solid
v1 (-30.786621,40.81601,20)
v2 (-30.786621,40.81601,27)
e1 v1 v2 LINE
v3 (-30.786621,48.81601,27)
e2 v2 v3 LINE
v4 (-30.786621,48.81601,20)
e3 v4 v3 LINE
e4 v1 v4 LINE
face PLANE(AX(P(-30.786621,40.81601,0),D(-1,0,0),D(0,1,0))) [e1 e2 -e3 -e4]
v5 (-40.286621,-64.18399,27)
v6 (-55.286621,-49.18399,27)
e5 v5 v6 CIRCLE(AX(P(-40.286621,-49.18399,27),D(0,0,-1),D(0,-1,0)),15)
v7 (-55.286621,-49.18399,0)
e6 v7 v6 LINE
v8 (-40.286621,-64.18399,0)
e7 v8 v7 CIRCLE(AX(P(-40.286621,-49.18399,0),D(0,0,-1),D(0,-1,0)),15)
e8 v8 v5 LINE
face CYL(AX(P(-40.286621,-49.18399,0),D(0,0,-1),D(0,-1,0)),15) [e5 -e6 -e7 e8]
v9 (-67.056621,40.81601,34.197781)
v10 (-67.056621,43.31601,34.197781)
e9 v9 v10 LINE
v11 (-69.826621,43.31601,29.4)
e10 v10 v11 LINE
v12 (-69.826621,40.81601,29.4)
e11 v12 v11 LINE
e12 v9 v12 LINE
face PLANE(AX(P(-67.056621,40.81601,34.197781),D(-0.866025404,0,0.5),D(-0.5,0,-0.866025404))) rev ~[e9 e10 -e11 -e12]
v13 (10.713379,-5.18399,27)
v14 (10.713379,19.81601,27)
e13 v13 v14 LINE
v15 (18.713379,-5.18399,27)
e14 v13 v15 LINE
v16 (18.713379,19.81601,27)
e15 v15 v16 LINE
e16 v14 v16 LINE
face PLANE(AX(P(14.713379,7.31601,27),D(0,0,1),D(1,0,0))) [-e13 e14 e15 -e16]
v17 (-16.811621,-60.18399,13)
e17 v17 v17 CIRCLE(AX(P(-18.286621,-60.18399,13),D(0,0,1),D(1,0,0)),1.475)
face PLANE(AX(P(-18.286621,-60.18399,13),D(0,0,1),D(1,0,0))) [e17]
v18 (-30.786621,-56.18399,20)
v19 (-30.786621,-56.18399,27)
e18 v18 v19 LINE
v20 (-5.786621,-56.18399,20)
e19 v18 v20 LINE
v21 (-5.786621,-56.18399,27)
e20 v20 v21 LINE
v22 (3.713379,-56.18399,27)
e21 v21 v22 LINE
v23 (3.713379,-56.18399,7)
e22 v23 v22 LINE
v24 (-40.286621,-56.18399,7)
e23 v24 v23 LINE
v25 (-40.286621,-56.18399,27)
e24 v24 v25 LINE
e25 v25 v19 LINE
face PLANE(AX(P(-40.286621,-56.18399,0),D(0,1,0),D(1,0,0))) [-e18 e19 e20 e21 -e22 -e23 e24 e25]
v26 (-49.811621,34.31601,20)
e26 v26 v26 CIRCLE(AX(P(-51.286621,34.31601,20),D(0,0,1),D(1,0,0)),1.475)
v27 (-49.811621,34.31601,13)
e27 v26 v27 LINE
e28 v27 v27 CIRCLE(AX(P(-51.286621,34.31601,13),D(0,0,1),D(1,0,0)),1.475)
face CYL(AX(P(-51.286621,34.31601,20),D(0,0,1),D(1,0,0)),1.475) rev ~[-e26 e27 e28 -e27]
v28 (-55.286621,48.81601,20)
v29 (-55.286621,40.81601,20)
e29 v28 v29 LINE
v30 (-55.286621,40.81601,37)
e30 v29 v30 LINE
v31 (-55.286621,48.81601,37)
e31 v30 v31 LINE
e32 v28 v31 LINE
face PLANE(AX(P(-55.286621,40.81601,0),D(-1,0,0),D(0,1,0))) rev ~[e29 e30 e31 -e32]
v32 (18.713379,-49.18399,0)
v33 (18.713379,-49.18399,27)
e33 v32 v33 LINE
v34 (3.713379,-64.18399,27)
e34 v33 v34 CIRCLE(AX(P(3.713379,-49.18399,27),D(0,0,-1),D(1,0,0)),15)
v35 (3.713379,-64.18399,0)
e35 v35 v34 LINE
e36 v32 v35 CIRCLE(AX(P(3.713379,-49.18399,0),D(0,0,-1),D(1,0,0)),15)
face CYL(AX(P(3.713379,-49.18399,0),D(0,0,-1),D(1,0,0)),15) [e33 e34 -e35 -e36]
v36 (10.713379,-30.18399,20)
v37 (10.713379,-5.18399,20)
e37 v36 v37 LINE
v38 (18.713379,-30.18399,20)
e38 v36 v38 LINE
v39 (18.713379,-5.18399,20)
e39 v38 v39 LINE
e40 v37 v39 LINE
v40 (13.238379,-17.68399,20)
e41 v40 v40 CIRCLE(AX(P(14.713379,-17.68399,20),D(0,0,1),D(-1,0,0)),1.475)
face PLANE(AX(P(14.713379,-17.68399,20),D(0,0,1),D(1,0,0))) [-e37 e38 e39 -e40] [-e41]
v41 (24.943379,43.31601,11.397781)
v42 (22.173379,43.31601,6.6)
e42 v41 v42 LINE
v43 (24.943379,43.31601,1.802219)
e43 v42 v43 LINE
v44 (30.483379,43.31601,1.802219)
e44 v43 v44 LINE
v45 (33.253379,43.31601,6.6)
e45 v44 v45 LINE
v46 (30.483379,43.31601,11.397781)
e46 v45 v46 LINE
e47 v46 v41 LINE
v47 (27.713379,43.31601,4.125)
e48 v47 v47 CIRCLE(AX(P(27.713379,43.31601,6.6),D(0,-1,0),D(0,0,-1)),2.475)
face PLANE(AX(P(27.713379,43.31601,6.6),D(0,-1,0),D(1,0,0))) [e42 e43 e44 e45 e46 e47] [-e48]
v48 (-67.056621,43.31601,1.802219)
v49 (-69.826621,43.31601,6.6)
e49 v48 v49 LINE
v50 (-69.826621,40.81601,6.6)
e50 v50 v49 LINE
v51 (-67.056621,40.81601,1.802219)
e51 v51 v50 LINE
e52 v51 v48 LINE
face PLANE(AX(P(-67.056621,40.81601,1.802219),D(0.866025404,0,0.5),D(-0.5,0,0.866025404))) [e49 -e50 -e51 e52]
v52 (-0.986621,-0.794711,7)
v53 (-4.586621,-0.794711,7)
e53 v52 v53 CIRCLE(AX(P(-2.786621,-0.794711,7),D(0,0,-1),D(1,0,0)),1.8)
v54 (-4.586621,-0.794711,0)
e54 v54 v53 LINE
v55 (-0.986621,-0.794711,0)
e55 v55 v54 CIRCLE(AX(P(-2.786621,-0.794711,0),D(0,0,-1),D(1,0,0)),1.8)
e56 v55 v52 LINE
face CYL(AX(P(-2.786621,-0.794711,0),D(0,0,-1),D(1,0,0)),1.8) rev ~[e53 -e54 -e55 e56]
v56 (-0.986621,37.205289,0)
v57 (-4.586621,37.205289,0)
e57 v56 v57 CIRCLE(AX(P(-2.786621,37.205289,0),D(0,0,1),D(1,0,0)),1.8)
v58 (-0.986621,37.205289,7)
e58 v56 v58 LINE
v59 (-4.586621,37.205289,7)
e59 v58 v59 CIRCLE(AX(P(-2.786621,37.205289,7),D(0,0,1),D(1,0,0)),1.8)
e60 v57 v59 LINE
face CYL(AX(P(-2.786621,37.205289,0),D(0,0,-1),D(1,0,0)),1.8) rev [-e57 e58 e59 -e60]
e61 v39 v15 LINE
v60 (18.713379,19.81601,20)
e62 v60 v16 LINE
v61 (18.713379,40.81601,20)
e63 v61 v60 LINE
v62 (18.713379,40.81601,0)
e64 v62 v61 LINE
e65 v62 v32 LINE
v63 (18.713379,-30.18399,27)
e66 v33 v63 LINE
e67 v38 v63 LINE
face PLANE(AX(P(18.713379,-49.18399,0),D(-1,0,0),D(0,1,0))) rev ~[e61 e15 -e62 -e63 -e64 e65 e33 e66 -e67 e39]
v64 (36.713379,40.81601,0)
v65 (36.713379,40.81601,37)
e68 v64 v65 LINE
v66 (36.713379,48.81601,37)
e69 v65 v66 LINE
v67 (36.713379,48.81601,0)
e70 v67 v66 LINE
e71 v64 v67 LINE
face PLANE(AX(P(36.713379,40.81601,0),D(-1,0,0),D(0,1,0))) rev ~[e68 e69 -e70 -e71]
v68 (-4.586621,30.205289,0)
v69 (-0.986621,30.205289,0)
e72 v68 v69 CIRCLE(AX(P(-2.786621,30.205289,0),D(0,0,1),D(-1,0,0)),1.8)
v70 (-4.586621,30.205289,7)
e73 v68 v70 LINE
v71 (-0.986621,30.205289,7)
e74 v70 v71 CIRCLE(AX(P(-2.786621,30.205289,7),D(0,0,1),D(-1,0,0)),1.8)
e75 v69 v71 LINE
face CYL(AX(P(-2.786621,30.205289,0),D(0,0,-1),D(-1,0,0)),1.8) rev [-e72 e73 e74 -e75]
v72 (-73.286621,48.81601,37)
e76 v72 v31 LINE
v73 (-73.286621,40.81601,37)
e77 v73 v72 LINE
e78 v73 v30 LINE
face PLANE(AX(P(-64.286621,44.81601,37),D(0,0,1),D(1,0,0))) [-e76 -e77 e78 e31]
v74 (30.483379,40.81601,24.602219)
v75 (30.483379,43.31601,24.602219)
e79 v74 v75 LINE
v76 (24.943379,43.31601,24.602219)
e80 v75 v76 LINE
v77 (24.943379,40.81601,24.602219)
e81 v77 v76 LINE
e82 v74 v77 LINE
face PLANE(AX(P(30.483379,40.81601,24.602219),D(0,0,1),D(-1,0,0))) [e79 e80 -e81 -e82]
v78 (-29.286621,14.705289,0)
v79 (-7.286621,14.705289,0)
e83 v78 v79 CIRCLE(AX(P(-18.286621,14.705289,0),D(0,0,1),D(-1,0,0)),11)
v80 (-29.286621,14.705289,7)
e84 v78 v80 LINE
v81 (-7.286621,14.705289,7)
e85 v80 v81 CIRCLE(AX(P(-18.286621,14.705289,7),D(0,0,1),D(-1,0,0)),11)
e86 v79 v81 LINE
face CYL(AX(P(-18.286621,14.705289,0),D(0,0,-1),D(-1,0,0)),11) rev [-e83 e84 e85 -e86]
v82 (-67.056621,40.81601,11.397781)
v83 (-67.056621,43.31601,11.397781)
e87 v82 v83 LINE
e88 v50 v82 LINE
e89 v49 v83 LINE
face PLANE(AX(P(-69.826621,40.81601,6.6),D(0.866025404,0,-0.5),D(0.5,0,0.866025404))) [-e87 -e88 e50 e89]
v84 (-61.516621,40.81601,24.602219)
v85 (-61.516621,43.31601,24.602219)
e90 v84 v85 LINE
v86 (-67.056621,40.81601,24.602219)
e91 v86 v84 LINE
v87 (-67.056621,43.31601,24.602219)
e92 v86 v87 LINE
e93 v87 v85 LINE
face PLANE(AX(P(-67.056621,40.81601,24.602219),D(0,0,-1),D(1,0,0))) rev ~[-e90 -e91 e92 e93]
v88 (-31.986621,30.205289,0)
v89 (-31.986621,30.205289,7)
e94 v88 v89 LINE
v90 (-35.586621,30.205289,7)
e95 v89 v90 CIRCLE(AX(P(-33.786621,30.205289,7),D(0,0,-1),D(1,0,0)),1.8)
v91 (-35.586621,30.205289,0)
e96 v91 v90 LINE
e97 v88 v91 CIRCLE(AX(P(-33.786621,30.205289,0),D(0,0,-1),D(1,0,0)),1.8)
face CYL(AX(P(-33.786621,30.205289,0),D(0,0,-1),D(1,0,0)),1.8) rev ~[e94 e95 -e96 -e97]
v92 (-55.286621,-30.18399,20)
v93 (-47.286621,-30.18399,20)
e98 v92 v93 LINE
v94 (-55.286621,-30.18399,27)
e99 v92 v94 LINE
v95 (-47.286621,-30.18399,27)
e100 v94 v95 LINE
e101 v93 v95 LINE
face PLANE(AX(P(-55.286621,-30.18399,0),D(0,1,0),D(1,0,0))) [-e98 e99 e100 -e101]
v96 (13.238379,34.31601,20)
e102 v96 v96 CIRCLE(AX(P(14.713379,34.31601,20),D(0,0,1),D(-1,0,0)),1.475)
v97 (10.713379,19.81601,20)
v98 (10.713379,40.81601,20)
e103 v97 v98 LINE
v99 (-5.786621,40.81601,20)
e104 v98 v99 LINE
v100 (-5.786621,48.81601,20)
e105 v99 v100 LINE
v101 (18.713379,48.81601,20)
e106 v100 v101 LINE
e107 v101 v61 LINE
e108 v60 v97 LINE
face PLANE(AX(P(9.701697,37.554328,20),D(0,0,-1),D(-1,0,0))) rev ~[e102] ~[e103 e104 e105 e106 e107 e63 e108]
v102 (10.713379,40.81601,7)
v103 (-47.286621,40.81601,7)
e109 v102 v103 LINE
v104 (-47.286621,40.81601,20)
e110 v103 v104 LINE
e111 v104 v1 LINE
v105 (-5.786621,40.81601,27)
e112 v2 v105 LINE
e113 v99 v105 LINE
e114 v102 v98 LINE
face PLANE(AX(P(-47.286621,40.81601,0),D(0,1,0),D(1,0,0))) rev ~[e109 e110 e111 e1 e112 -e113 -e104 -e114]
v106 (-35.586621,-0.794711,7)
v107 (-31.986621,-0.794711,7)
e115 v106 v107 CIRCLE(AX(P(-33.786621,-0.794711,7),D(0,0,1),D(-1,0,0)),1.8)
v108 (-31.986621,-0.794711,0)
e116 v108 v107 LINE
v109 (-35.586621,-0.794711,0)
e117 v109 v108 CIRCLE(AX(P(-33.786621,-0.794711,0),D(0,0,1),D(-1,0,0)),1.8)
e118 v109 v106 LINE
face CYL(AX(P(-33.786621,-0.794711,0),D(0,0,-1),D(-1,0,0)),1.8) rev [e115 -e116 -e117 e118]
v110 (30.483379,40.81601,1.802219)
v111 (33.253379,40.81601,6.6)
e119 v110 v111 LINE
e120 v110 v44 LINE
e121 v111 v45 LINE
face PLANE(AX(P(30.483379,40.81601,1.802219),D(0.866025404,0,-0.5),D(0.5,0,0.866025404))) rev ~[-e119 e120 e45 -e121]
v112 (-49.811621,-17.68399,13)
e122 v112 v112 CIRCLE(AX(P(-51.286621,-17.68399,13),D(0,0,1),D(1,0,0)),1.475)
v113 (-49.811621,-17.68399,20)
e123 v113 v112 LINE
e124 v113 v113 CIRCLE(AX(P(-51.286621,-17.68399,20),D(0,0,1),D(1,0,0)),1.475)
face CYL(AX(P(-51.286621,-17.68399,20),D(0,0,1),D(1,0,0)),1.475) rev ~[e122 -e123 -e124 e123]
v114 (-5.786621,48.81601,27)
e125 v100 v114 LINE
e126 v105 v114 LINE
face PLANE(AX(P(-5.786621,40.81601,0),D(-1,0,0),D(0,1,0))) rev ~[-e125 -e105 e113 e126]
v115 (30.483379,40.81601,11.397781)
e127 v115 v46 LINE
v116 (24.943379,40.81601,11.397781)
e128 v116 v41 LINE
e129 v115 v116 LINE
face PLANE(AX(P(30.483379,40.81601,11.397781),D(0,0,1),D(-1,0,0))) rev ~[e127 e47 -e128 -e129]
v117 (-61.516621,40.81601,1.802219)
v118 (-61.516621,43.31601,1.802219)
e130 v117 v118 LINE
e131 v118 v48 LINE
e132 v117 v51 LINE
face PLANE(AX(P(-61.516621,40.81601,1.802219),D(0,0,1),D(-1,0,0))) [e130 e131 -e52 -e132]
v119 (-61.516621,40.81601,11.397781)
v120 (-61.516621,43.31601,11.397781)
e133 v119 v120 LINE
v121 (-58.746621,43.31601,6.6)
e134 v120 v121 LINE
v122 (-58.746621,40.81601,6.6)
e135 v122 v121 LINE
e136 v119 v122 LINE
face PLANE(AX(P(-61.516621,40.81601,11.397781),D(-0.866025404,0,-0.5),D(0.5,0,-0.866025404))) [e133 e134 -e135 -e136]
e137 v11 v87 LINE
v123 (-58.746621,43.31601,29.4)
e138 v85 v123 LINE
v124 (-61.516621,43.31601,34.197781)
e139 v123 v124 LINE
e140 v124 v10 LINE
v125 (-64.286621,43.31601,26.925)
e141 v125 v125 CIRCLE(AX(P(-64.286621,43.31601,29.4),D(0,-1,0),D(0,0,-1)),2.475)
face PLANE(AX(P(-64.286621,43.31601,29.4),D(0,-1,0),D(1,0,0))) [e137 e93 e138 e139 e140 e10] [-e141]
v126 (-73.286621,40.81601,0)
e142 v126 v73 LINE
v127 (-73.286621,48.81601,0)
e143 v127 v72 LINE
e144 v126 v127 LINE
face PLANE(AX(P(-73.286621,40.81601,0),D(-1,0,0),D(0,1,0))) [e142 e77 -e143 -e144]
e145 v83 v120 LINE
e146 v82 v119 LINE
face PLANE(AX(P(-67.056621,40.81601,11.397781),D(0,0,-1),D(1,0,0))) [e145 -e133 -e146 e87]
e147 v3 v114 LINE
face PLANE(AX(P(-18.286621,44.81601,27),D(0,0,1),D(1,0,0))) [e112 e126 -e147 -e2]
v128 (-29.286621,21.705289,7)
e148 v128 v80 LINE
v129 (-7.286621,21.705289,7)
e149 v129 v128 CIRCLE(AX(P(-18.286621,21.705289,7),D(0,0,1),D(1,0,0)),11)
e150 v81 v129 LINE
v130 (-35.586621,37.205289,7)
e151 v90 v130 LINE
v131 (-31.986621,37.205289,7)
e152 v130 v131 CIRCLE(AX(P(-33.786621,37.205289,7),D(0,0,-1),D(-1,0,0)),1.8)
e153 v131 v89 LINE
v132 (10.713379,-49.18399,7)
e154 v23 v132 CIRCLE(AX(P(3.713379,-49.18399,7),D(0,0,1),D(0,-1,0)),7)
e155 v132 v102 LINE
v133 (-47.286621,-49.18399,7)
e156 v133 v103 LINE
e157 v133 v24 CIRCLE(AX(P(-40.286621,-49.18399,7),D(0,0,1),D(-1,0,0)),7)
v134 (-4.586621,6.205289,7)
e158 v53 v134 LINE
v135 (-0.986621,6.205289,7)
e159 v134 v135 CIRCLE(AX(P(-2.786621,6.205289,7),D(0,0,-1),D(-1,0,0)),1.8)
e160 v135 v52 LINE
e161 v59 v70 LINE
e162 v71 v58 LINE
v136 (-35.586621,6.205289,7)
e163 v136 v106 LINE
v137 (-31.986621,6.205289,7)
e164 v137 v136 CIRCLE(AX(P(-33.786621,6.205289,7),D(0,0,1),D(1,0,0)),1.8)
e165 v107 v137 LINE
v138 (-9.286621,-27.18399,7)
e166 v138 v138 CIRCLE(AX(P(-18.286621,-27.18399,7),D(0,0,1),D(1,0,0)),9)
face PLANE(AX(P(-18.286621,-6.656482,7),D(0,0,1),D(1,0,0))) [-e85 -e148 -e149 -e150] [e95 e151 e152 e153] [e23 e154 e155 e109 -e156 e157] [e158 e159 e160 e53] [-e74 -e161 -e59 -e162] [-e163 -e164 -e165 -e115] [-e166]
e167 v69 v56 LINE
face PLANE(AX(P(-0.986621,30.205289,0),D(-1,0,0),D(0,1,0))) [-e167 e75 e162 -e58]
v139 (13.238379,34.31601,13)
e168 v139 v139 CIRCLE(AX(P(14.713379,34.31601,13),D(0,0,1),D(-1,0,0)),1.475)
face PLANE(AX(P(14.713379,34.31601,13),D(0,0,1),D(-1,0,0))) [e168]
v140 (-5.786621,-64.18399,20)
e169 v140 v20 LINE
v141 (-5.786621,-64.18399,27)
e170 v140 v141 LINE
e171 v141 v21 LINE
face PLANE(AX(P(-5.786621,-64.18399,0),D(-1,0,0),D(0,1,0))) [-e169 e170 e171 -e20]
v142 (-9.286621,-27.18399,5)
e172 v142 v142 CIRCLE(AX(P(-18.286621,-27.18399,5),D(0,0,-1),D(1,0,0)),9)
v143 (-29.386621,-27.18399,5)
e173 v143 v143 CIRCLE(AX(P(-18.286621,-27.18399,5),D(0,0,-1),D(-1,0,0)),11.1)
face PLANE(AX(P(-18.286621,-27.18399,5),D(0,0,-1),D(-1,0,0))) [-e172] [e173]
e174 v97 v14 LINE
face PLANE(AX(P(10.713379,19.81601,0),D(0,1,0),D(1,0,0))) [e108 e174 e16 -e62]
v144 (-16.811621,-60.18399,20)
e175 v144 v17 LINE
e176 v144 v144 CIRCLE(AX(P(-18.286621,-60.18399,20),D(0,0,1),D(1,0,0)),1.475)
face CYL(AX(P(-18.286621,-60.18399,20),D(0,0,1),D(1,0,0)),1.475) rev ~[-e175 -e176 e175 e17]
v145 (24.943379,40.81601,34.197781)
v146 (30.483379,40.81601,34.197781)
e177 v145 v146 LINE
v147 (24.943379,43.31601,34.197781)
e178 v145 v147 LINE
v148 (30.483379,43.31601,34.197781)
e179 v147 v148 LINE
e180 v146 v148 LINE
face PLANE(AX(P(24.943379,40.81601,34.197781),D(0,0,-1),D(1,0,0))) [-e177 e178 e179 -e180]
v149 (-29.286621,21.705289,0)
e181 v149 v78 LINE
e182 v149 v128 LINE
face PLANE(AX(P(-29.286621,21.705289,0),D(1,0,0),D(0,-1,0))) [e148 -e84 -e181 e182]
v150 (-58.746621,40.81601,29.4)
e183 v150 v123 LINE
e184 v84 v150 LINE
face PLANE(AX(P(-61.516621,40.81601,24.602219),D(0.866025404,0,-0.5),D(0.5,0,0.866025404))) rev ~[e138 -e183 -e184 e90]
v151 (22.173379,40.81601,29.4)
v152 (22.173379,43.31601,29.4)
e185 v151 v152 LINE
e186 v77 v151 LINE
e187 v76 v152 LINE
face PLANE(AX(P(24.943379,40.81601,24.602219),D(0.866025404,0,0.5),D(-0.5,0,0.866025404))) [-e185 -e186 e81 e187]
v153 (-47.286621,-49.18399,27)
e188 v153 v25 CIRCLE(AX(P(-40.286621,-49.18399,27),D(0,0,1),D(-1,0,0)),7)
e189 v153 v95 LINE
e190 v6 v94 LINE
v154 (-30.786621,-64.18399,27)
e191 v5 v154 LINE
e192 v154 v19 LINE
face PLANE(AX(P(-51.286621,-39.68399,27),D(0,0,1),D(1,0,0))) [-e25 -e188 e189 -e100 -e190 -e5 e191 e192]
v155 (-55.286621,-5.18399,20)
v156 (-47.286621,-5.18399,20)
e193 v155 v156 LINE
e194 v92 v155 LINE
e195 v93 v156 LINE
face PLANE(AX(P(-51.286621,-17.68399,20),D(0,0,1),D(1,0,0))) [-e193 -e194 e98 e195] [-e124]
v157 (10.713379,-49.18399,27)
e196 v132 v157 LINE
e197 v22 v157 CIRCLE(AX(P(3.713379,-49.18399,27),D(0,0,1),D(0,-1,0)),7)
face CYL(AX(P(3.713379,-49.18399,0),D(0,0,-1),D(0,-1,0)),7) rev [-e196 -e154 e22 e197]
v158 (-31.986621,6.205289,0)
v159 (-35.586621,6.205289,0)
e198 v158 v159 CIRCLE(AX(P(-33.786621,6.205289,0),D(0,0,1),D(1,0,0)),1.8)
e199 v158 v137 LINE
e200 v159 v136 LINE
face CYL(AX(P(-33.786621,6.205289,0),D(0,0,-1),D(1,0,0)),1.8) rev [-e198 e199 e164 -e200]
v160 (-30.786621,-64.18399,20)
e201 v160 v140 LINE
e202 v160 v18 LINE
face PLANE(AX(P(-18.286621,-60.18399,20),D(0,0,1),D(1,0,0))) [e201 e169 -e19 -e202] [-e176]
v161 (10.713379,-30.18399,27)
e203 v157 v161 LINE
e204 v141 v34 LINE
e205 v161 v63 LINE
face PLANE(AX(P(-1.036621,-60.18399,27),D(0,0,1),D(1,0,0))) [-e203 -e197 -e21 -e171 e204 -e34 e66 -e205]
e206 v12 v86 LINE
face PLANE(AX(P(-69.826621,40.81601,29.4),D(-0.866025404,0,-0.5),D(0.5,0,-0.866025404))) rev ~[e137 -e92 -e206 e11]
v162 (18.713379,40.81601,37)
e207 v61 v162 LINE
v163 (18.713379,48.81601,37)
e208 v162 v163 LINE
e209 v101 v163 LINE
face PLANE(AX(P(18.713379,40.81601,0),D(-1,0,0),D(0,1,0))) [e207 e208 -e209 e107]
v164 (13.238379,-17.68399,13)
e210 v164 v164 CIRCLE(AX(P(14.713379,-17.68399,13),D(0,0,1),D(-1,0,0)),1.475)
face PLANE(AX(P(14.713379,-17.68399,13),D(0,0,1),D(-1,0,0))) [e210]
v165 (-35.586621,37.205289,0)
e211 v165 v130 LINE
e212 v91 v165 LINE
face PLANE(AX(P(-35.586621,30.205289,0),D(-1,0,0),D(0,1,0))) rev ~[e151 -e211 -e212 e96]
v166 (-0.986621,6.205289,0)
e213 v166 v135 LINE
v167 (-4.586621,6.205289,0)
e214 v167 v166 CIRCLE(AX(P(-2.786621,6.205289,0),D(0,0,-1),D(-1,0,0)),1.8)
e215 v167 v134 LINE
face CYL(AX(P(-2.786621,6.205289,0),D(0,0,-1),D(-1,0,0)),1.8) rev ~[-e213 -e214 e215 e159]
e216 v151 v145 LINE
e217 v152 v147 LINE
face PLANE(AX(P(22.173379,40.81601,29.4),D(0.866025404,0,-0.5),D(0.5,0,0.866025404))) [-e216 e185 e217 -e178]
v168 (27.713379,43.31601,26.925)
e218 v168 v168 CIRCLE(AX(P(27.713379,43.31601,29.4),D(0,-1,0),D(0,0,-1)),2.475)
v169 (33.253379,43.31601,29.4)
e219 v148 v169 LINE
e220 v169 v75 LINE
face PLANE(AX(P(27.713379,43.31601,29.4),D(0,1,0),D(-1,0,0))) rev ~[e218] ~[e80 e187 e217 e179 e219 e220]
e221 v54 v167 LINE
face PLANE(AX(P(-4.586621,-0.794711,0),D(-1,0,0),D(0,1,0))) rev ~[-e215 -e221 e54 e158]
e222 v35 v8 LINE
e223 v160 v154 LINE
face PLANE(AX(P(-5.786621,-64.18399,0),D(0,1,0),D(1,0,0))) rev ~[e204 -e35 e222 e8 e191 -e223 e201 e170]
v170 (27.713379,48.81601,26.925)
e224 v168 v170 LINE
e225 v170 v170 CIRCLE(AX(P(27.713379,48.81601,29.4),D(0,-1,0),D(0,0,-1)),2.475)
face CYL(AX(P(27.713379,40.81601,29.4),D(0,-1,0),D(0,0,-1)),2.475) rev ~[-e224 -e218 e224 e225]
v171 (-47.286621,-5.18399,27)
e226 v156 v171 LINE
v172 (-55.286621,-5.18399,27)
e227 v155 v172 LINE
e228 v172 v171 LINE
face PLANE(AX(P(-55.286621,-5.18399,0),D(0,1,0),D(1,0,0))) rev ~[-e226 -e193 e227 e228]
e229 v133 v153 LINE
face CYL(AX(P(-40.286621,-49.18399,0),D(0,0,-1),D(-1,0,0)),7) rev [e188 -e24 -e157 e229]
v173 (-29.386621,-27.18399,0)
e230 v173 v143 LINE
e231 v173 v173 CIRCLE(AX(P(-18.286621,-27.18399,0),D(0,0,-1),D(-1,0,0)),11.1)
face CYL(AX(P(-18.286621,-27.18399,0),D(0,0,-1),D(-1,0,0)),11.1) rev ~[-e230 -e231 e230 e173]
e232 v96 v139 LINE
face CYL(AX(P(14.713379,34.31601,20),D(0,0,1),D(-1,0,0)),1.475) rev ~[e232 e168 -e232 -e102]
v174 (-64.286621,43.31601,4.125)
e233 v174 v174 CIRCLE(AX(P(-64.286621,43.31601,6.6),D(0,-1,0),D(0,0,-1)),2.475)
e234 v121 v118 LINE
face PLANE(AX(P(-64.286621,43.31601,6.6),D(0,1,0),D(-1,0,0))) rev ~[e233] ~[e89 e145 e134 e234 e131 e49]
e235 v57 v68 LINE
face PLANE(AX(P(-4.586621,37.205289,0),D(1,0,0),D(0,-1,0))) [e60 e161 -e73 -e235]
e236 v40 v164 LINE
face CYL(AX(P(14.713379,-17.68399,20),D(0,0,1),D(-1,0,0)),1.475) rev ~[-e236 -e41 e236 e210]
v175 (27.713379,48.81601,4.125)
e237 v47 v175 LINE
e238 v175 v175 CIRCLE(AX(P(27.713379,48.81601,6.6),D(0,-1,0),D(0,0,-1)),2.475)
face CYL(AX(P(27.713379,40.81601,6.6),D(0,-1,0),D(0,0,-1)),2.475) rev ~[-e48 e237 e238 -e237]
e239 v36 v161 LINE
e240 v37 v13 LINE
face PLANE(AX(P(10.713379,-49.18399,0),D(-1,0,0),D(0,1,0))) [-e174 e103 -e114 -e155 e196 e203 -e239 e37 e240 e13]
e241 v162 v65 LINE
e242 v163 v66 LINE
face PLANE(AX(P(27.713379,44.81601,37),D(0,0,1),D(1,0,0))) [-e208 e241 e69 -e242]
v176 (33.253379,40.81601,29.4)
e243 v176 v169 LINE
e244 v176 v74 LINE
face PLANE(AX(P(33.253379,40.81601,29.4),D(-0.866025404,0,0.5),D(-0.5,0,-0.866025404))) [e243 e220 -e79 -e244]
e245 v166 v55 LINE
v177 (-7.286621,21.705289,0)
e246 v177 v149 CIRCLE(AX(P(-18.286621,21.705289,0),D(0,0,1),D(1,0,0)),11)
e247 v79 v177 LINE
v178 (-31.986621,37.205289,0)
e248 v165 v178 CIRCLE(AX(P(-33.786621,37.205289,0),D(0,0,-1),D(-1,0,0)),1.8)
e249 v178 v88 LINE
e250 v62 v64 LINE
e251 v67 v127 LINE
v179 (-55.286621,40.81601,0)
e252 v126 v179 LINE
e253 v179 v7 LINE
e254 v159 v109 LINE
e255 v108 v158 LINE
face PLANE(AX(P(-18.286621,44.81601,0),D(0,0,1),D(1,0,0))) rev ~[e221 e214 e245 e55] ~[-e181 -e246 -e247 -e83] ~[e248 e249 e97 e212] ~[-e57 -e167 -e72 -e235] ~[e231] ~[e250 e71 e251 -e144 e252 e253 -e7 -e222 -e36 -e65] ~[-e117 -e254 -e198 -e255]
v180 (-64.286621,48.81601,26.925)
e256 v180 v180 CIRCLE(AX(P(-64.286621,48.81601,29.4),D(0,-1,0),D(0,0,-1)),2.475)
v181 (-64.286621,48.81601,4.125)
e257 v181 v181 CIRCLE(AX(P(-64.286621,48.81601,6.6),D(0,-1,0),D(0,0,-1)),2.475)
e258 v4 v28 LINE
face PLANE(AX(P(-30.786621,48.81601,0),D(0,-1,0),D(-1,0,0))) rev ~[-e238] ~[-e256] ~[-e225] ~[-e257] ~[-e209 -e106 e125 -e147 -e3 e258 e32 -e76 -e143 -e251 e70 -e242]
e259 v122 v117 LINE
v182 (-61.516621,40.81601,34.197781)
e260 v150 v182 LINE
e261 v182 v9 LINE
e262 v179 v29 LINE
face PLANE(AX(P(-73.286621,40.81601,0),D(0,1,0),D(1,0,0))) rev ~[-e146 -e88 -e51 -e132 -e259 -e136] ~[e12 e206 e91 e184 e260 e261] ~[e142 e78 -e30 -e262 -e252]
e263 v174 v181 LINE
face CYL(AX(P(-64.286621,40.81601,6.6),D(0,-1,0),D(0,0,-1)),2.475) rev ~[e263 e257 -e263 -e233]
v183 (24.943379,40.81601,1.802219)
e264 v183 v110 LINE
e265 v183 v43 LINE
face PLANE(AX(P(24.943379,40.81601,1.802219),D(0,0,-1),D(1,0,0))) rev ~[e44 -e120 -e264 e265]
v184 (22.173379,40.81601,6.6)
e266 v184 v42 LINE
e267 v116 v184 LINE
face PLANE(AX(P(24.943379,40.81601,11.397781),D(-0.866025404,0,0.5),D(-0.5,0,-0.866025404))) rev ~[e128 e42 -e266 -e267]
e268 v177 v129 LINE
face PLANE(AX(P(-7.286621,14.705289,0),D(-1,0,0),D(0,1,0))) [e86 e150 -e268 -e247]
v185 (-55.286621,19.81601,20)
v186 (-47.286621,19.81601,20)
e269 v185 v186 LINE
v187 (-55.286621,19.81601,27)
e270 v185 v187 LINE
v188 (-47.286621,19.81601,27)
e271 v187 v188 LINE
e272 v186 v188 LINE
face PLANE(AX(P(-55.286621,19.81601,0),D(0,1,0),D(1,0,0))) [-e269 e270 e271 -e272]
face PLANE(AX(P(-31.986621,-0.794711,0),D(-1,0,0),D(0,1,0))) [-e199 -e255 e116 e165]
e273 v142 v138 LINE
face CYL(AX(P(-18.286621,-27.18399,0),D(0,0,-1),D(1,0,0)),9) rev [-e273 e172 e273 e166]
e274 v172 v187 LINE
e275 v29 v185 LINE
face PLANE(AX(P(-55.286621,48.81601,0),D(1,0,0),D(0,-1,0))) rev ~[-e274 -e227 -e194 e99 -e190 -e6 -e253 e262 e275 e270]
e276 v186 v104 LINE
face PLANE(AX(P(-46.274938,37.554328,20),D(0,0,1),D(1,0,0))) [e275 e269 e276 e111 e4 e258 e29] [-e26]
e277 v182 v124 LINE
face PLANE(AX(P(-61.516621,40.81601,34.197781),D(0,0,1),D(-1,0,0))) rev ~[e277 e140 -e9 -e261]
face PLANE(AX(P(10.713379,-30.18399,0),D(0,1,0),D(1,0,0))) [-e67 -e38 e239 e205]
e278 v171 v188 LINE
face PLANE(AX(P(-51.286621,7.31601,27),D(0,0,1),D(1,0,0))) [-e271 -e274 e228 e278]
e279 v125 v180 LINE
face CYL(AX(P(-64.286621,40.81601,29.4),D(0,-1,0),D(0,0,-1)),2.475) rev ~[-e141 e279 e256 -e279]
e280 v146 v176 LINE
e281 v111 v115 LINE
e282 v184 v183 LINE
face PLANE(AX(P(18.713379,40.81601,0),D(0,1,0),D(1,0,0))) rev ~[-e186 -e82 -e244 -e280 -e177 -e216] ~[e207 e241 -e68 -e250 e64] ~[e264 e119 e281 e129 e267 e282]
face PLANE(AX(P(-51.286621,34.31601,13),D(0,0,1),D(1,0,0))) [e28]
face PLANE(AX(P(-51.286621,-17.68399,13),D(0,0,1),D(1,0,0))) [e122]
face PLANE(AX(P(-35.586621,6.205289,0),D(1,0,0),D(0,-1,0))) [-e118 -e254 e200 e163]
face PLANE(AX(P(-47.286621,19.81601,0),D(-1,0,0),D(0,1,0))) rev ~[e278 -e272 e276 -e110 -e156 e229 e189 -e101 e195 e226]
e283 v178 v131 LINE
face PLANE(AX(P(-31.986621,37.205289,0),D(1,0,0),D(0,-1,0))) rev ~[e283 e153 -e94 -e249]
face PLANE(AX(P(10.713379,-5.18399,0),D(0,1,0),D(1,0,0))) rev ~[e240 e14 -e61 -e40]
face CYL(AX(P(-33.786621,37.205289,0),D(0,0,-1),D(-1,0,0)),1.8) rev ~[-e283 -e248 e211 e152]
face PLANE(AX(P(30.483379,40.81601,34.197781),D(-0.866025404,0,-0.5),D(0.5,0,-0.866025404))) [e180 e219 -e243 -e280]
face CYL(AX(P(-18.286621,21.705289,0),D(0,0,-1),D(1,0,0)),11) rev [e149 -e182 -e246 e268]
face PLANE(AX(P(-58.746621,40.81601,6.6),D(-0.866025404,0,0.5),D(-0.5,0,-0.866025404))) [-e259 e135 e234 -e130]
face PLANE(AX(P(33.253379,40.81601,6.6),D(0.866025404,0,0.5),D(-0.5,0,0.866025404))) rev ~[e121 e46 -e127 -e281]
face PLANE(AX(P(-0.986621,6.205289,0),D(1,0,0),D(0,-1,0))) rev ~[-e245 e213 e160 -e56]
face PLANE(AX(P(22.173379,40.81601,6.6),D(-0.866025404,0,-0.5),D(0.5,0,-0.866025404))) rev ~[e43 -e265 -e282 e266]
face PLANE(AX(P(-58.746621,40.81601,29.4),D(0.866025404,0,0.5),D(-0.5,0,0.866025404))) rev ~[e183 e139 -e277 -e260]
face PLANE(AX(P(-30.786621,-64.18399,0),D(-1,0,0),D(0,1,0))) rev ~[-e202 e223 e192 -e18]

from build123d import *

# Parameters (mm, degrees)
CROQUIS2_R                = 9
SALIENTE_EXTRUIR1_DEPTH   = 7
CROQUIS2_5_W              = 18
CROQUIS2_5_H              = 8
SALIENTE_EXTRUIR2_DEPTH   = 37
SALIENTE_EXTRUIR2_2_DEPTH = 37
CROQUIS2_7_W              = 25
CROQUIS2_7_H              = 8
CROQUIS2_7_W_2            = 8
CROQUIS2_7_H_2            = 25
SALIENTE_EXTRUIR3_DEPTH   = 27
CROQUIS2_8_W              = 8
CROQUIS2_8_H              = 25
CROQUIS2_8_W_2            = 25
CROQUIS2_8_H_2            = 8
SALIENTE_EXTRUIR4_DEPTH   = 20
CROQUIS3_R                = 11.1
CORTAR_EXTRUIR1_DEPTH     = 5
CROQUIS9_R                = 2.475
CORTAR_EXTRUIR2_DEPTH     = 2.5
CROQUIS10_R               = 2.475
CORTAR_EXTRUIR3_DEPTH     = 8
CROQUIS11_R               = 1.475
CORTAR_EXTRUIR4_DEPTH     = 7


with BuildPart() as part:
    # Croquis2 → Saliente-Extruir1 (new body)
    with BuildSketch(Plane.XY):
        with BuildLine():
            Line((-5.786620614, 40.816010109), (-30.786620614, 40.816010109))
            Line((-30.786620614, 40.816010109), (-47.286620614, 40.816010109))
            Line((-47.286620614, 40.816010109), (-47.286620614, 19.816010109))
            Line((-47.286620614, 19.816010109), (-47.286620614, -5.183989891))
            Line((-47.286620614, -5.183989891), (-47.286620614, -30.183989891))
            Line((-47.286620614, -30.183989891), (-47.286620614, -49.183989891))
            ThreePointArc((-47.286620614, -49.183989891), (-45.236368082, -54.133737359), (-40.286620614, -56.183989891))
            Line((-40.286620614, -56.183989891), (-30.786620614, -56.183989891))
            Line((-30.786620614, -56.183989891), (-5.786620614, -56.183989891))
            Line((-5.786620614, -56.183989891), (3.713379386, -56.183989891))
            ThreePointArc((3.713379386, -56.183989891), (8.663126854, -54.133737359), (10.713379386, -49.183989891))
            Line((10.713379386, -49.183989891), (10.713379386, -30.183989891))
            Line((10.713379386, -30.183989891), (10.713379386, -5.183989891))
            Line((10.713379386, -5.183989891), (10.713379386, 19.816010109))
            Line((10.713379386, 19.816010109), (10.713379386, 40.816010109))
            Line((10.713379386, 40.816010109), (-5.786620614, 40.816010109))
        make_face()
        with Locations((-18.286620614, -27.183989891)):
            Circle(CROQUIS2_R, mode=Mode.SUBTRACT)
        with BuildLine():
            ThreePointArc((-35.586620614, 6.205288522), (-33.786620614, 8.005288522), (-31.986620614, 6.205288522))
            Line((-31.986620614, 6.205288522), (-31.986620614, -0.794711478))
            ThreePointArc((-31.986620614, -0.794711478), (-33.786620614, -2.594711478), (-35.586620614, -0.794711478))
            Line((-35.586620614, -0.794711478), (-35.586620614, 6.205288522))
        make_face(mode=Mode.SUBTRACT)
        with BuildLine():
            ThreePointArc((-29.286620614, 21.705288522), (-18.286620614, 32.705288522), (-7.286620614, 21.705288522))
            Line((-7.286620614, 21.705288522), (-7.286620614, 14.705288522))
            ThreePointArc((-7.286620614, 14.705288522), (-18.286620614, 3.705288522), (-29.286620614, 14.705288522))
            Line((-29.286620614, 14.705288522), (-29.286620614, 21.705288522))
        make_face(mode=Mode.SUBTRACT)
        with BuildLine():
            ThreePointArc((-31.986620614, 30.205288522), (-33.786620614, 28.405288522), (-35.586620614, 30.205288522))
            Line((-35.586620614, 30.205288522), (-35.586620614, 37.205288522))
            ThreePointArc((-35.586620614, 37.205288522), (-33.786620614, 39.005288522), (-31.986620614, 37.205288522))
            Line((-31.986620614, 37.205288522), (-31.986620614, 30.205288522))
        make_face(mode=Mode.SUBTRACT)
        with BuildLine():
            ThreePointArc((-4.586620614, 6.205288522), (-2.786620614, 8.005288522), (-0.986620614, 6.205288522))
            Line((-0.986620614, 6.205288522), (-0.986620614, -0.794711478))
            ThreePointArc((-0.986620614, -0.794711478), (-2.786620614, -2.594711478), (-4.586620614, -0.794711478))
            Line((-4.586620614, -0.794711478), (-4.586620614, 6.205288522))
        make_face(mode=Mode.SUBTRACT)
        with BuildLine():
            ThreePointArc((-0.986620614, 30.205288522), (-2.786620614, 28.405288522), (-4.586620614, 30.205288522))
            Line((-4.586620614, 30.205288522), (-4.586620614, 37.205288522))
            ThreePointArc((-4.586620614, 37.205288522), (-2.786620614, 39.005288522), (-0.986620614, 37.205288522))
            Line((-0.986620614, 37.205288522), (-0.986620614, 30.205288522))
        make_face(mode=Mode.SUBTRACT)
    extrude(amount=SALIENTE_EXTRUIR1_DEPTH)

    # Croquis2<7> → Saliente-Extruir3 (add)
    with BuildSketch(Plane.XY):
        with Locations((-18.286620614, 44.816010109)):
            Rectangle(CROQUIS2_7_W, CROQUIS2_7_H)
        with Locations((-51.286620614, 7.316010109)):
            Rectangle(CROQUIS2_7_W_2, CROQUIS2_7_H_2)
        with Locations((14.713379386, 7.316010109)):
            Rectangle(CROQUIS2_7_W_2, CROQUIS2_7_H_2)
        with BuildLine():
            Line((-47.286620614, -49.183989891), (-47.286620614, -30.183989891))
            Line((-47.286620614, -30.183989891), (-55.286620614, -30.183989891))
            Line((-55.286620614, -30.183989891), (-55.286620614, -49.183989891))
            ThreePointArc((-55.286620614, -49.183989891), (-50.893222332, -59.790591609), (-40.286620614, -64.183989891))
            Line((-40.286620614, -64.183989891), (-30.786620614, -64.183989891))
            Line((-30.786620614, -64.183989891), (-30.786620614, -56.183989891))
            Line((-30.786620614, -56.183989891), (-40.286620614, -56.183989891))
            ThreePointArc((-40.286620614, -56.183989891), (-45.236368082, -54.133737359), (-47.286620614, -49.183989891))
        make_face()
        with BuildLine():
            Line((18.713379386, -30.183989891), (10.713379386, -30.183989891))
            Line((10.713379386, -30.183989891), (10.713379386, -49.183989891))
            ThreePointArc((10.713379386, -49.183989891), (8.663126854, -54.133737359), (3.713379386, -56.183989891))
            Line((3.713379386, -56.183989891), (-5.786620614, -56.183989891))
            Line((-5.786620614, -56.183989891), (-5.786620614, -64.183989891))
            Line((-5.786620614, -64.183989891), (3.713379386, -64.183989891))
            ThreePointArc((3.713379386, -64.183989891), (14.319981104, -59.790591609), (18.713379386, -49.183989891))
            Line((18.713379386, -49.183989891), (18.713379386, -30.183989891))
        make_face()
    extrude(amount=SALIENTE_EXTRUIR3_DEPTH)



with BuildPart() as body_2:
    # Croquis2<5> → Saliente-Extruir2 (new body)
    with BuildSketch(Plane.XY):
        with Locations((-64.286620614, 44.816010109)):
            Rectangle(CROQUIS2_5_W, CROQUIS2_5_H)
    extrude(amount=SALIENTE_EXTRUIR2_DEPTH)


with BuildPart() as body_3:
    # Croquis2<5> → Saliente-Extruir2 2 (new body)
    with BuildSketch(Plane.XY):
        with Locations((27.713379386, 44.816010109)):
            Rectangle(CROQUIS2_5_W, CROQUIS2_5_H)
    extrude(amount=SALIENTE_EXTRUIR2_2_DEPTH)


with BuildPart() as part_1:
    add(part.part)

    add(body_2.part)  # Saliente-Extruir4 merges body 2

    add(body_3.part)  # Saliente-Extruir4 merges body 3
    # Croquis2<8> → Saliente-Extruir4 (add)
    with BuildSketch(Plane.XY):
        Polygon((-30.786620614, 40.816010109), (-30.786620614, 48.816010109), (-55.286620614, 48.816010109), (-55.286620614, 19.816010109), (-47.286620614, 19.816010109), (-47.286620614, 40.816010109), align=None)
        Polygon((18.713379386, 48.816010109), (-5.786620614, 48.816010109), (-5.786620614, 40.816010109), (10.713379386, 40.816010109), (10.713379386, 19.816010109), (18.713379386, 19.816010109), align=None)
        with Locations((-51.286620614, -17.683989891)):
            Rectangle(CROQUIS2_8_W, CROQUIS2_8_H)
        with Locations((14.713379386, -17.683989891)):
            Rectangle(CROQUIS2_8_W, CROQUIS2_8_H)
        with Locations((-18.286620614, -60.183989891)):
            Rectangle(CROQUIS2_8_W_2, CROQUIS2_8_H_2)
    extrude(amount=SALIENTE_EXTRUIR4_DEPTH)

    # Croquis3 → Cortar-Extruir1 (cut)
    with BuildSketch(Plane(origin=(0, 0, 0), x_dir=(-1, 0, 0), z_dir=(0, 0, -1))):
        with Locations((18.286620614, -27.183989891)):
            Circle(CROQUIS3_R)
    extrude(amount=-CORTAR_EXTRUIR1_DEPTH, mode=Mode.SUBTRACT)

    # Croquis9 → Cortar-Extruir2 (cut)
    # profile 1 of 4: a face of its own
    with BuildSketch(Plane.XZ.offset(-40.816010109)):
        Polygon((-69.826620614, 29.4), (-67.056620614, 24.602219263), (-61.516620614, 24.602219263), (-58.746620614, 29.4), (-61.516620614, 34.197780737), (-67.056620614, 34.197780737), align=None)
        with Locations((-64.286620614, 29.4)):
            Circle(CROQUIS9_R, mode=Mode.SUBTRACT)
    # profile 2 of 4: a face of its own
    with BuildSketch(Plane.XZ.offset(-40.816010109)):
        Polygon((33.253379386, 6.6), (30.483379386, 11.397780737), (24.943379386, 11.397780737), (22.173379386, 6.6), (24.943379386, 1.802219263), (30.483379386, 1.802219263), align=None)
        with Locations((27.713379386, 6.6)):
            Circle(CROQUIS9_R, mode=Mode.SUBTRACT)
    # profile 3 of 4: a face of its own
    with BuildSketch(Plane.XZ.offset(-40.816010109)):
        Polygon((30.483379386, 34.197780737), (33.253379386, 29.4), (30.483379386, 24.602219263), (24.943379386, 24.602219263), (22.173379386, 29.4), (24.943379386, 34.197780737), align=None)
        with Locations((27.713379386, 29.4)):
            Circle(CROQUIS9_R, mode=Mode.SUBTRACT)
    # profile 4 of 4: a face of its own
    with BuildSketch(Plane.XZ.offset(-40.816010109)):
        Polygon((-67.056620614, 1.802219263), (-69.826620614, 6.6), (-67.056620614, 11.397780737), (-61.516620614, 11.397780737), (-58.746620614, 6.6), (-61.516620614, 1.802219263), align=None)
        with Locations((-64.286620614, 6.6)):
            Circle(CROQUIS9_R, mode=Mode.SUBTRACT)
    extrude(amount=-CORTAR_EXTRUIR2_DEPTH, mode=Mode.SUBTRACT)

    # Croquis10 → Cortar-Extruir3 (cut)
    with BuildSketch(Plane.XZ.offset(-40.816010109)):
        with Locations((-64.286620614, 29.4)):
            Circle(CROQUIS10_R)
        with Locations((-64.286620614, 6.6)):
            Circle(CROQUIS10_R)
        with Locations((27.713379386, 29.4)):
            Circle(CROQUIS10_R)
        with Locations((27.713379386, 6.6)):
            Circle(CROQUIS10_R)
    extrude(amount=-CORTAR_EXTRUIR3_DEPTH, mode=Mode.SUBTRACT)

    # Croquis11 → Cortar-Extruir4 (cut)
    with BuildSketch(Plane.XY.offset(20)):
        with Locations((-51.286620614, 34.316010109)):
            Circle(CROQUIS11_R)
        with Locations((-51.286620614, -17.683989891)):
            Circle(CROQUIS11_R)
        with Locations((-18.286620614, -60.183989891)):
            Circle(CROQUIS11_R)
        with Locations((14.713379386, -17.683989891)):
            Circle(CROQUIS11_R)
        with Locations((14.713379386, 34.316010109)):
            Circle(CROQUIS11_R)
    extrude(amount=-CORTAR_EXTRUIR4_DEPTH, mode=Mode.SUBTRACT)


solid = part_1.part
